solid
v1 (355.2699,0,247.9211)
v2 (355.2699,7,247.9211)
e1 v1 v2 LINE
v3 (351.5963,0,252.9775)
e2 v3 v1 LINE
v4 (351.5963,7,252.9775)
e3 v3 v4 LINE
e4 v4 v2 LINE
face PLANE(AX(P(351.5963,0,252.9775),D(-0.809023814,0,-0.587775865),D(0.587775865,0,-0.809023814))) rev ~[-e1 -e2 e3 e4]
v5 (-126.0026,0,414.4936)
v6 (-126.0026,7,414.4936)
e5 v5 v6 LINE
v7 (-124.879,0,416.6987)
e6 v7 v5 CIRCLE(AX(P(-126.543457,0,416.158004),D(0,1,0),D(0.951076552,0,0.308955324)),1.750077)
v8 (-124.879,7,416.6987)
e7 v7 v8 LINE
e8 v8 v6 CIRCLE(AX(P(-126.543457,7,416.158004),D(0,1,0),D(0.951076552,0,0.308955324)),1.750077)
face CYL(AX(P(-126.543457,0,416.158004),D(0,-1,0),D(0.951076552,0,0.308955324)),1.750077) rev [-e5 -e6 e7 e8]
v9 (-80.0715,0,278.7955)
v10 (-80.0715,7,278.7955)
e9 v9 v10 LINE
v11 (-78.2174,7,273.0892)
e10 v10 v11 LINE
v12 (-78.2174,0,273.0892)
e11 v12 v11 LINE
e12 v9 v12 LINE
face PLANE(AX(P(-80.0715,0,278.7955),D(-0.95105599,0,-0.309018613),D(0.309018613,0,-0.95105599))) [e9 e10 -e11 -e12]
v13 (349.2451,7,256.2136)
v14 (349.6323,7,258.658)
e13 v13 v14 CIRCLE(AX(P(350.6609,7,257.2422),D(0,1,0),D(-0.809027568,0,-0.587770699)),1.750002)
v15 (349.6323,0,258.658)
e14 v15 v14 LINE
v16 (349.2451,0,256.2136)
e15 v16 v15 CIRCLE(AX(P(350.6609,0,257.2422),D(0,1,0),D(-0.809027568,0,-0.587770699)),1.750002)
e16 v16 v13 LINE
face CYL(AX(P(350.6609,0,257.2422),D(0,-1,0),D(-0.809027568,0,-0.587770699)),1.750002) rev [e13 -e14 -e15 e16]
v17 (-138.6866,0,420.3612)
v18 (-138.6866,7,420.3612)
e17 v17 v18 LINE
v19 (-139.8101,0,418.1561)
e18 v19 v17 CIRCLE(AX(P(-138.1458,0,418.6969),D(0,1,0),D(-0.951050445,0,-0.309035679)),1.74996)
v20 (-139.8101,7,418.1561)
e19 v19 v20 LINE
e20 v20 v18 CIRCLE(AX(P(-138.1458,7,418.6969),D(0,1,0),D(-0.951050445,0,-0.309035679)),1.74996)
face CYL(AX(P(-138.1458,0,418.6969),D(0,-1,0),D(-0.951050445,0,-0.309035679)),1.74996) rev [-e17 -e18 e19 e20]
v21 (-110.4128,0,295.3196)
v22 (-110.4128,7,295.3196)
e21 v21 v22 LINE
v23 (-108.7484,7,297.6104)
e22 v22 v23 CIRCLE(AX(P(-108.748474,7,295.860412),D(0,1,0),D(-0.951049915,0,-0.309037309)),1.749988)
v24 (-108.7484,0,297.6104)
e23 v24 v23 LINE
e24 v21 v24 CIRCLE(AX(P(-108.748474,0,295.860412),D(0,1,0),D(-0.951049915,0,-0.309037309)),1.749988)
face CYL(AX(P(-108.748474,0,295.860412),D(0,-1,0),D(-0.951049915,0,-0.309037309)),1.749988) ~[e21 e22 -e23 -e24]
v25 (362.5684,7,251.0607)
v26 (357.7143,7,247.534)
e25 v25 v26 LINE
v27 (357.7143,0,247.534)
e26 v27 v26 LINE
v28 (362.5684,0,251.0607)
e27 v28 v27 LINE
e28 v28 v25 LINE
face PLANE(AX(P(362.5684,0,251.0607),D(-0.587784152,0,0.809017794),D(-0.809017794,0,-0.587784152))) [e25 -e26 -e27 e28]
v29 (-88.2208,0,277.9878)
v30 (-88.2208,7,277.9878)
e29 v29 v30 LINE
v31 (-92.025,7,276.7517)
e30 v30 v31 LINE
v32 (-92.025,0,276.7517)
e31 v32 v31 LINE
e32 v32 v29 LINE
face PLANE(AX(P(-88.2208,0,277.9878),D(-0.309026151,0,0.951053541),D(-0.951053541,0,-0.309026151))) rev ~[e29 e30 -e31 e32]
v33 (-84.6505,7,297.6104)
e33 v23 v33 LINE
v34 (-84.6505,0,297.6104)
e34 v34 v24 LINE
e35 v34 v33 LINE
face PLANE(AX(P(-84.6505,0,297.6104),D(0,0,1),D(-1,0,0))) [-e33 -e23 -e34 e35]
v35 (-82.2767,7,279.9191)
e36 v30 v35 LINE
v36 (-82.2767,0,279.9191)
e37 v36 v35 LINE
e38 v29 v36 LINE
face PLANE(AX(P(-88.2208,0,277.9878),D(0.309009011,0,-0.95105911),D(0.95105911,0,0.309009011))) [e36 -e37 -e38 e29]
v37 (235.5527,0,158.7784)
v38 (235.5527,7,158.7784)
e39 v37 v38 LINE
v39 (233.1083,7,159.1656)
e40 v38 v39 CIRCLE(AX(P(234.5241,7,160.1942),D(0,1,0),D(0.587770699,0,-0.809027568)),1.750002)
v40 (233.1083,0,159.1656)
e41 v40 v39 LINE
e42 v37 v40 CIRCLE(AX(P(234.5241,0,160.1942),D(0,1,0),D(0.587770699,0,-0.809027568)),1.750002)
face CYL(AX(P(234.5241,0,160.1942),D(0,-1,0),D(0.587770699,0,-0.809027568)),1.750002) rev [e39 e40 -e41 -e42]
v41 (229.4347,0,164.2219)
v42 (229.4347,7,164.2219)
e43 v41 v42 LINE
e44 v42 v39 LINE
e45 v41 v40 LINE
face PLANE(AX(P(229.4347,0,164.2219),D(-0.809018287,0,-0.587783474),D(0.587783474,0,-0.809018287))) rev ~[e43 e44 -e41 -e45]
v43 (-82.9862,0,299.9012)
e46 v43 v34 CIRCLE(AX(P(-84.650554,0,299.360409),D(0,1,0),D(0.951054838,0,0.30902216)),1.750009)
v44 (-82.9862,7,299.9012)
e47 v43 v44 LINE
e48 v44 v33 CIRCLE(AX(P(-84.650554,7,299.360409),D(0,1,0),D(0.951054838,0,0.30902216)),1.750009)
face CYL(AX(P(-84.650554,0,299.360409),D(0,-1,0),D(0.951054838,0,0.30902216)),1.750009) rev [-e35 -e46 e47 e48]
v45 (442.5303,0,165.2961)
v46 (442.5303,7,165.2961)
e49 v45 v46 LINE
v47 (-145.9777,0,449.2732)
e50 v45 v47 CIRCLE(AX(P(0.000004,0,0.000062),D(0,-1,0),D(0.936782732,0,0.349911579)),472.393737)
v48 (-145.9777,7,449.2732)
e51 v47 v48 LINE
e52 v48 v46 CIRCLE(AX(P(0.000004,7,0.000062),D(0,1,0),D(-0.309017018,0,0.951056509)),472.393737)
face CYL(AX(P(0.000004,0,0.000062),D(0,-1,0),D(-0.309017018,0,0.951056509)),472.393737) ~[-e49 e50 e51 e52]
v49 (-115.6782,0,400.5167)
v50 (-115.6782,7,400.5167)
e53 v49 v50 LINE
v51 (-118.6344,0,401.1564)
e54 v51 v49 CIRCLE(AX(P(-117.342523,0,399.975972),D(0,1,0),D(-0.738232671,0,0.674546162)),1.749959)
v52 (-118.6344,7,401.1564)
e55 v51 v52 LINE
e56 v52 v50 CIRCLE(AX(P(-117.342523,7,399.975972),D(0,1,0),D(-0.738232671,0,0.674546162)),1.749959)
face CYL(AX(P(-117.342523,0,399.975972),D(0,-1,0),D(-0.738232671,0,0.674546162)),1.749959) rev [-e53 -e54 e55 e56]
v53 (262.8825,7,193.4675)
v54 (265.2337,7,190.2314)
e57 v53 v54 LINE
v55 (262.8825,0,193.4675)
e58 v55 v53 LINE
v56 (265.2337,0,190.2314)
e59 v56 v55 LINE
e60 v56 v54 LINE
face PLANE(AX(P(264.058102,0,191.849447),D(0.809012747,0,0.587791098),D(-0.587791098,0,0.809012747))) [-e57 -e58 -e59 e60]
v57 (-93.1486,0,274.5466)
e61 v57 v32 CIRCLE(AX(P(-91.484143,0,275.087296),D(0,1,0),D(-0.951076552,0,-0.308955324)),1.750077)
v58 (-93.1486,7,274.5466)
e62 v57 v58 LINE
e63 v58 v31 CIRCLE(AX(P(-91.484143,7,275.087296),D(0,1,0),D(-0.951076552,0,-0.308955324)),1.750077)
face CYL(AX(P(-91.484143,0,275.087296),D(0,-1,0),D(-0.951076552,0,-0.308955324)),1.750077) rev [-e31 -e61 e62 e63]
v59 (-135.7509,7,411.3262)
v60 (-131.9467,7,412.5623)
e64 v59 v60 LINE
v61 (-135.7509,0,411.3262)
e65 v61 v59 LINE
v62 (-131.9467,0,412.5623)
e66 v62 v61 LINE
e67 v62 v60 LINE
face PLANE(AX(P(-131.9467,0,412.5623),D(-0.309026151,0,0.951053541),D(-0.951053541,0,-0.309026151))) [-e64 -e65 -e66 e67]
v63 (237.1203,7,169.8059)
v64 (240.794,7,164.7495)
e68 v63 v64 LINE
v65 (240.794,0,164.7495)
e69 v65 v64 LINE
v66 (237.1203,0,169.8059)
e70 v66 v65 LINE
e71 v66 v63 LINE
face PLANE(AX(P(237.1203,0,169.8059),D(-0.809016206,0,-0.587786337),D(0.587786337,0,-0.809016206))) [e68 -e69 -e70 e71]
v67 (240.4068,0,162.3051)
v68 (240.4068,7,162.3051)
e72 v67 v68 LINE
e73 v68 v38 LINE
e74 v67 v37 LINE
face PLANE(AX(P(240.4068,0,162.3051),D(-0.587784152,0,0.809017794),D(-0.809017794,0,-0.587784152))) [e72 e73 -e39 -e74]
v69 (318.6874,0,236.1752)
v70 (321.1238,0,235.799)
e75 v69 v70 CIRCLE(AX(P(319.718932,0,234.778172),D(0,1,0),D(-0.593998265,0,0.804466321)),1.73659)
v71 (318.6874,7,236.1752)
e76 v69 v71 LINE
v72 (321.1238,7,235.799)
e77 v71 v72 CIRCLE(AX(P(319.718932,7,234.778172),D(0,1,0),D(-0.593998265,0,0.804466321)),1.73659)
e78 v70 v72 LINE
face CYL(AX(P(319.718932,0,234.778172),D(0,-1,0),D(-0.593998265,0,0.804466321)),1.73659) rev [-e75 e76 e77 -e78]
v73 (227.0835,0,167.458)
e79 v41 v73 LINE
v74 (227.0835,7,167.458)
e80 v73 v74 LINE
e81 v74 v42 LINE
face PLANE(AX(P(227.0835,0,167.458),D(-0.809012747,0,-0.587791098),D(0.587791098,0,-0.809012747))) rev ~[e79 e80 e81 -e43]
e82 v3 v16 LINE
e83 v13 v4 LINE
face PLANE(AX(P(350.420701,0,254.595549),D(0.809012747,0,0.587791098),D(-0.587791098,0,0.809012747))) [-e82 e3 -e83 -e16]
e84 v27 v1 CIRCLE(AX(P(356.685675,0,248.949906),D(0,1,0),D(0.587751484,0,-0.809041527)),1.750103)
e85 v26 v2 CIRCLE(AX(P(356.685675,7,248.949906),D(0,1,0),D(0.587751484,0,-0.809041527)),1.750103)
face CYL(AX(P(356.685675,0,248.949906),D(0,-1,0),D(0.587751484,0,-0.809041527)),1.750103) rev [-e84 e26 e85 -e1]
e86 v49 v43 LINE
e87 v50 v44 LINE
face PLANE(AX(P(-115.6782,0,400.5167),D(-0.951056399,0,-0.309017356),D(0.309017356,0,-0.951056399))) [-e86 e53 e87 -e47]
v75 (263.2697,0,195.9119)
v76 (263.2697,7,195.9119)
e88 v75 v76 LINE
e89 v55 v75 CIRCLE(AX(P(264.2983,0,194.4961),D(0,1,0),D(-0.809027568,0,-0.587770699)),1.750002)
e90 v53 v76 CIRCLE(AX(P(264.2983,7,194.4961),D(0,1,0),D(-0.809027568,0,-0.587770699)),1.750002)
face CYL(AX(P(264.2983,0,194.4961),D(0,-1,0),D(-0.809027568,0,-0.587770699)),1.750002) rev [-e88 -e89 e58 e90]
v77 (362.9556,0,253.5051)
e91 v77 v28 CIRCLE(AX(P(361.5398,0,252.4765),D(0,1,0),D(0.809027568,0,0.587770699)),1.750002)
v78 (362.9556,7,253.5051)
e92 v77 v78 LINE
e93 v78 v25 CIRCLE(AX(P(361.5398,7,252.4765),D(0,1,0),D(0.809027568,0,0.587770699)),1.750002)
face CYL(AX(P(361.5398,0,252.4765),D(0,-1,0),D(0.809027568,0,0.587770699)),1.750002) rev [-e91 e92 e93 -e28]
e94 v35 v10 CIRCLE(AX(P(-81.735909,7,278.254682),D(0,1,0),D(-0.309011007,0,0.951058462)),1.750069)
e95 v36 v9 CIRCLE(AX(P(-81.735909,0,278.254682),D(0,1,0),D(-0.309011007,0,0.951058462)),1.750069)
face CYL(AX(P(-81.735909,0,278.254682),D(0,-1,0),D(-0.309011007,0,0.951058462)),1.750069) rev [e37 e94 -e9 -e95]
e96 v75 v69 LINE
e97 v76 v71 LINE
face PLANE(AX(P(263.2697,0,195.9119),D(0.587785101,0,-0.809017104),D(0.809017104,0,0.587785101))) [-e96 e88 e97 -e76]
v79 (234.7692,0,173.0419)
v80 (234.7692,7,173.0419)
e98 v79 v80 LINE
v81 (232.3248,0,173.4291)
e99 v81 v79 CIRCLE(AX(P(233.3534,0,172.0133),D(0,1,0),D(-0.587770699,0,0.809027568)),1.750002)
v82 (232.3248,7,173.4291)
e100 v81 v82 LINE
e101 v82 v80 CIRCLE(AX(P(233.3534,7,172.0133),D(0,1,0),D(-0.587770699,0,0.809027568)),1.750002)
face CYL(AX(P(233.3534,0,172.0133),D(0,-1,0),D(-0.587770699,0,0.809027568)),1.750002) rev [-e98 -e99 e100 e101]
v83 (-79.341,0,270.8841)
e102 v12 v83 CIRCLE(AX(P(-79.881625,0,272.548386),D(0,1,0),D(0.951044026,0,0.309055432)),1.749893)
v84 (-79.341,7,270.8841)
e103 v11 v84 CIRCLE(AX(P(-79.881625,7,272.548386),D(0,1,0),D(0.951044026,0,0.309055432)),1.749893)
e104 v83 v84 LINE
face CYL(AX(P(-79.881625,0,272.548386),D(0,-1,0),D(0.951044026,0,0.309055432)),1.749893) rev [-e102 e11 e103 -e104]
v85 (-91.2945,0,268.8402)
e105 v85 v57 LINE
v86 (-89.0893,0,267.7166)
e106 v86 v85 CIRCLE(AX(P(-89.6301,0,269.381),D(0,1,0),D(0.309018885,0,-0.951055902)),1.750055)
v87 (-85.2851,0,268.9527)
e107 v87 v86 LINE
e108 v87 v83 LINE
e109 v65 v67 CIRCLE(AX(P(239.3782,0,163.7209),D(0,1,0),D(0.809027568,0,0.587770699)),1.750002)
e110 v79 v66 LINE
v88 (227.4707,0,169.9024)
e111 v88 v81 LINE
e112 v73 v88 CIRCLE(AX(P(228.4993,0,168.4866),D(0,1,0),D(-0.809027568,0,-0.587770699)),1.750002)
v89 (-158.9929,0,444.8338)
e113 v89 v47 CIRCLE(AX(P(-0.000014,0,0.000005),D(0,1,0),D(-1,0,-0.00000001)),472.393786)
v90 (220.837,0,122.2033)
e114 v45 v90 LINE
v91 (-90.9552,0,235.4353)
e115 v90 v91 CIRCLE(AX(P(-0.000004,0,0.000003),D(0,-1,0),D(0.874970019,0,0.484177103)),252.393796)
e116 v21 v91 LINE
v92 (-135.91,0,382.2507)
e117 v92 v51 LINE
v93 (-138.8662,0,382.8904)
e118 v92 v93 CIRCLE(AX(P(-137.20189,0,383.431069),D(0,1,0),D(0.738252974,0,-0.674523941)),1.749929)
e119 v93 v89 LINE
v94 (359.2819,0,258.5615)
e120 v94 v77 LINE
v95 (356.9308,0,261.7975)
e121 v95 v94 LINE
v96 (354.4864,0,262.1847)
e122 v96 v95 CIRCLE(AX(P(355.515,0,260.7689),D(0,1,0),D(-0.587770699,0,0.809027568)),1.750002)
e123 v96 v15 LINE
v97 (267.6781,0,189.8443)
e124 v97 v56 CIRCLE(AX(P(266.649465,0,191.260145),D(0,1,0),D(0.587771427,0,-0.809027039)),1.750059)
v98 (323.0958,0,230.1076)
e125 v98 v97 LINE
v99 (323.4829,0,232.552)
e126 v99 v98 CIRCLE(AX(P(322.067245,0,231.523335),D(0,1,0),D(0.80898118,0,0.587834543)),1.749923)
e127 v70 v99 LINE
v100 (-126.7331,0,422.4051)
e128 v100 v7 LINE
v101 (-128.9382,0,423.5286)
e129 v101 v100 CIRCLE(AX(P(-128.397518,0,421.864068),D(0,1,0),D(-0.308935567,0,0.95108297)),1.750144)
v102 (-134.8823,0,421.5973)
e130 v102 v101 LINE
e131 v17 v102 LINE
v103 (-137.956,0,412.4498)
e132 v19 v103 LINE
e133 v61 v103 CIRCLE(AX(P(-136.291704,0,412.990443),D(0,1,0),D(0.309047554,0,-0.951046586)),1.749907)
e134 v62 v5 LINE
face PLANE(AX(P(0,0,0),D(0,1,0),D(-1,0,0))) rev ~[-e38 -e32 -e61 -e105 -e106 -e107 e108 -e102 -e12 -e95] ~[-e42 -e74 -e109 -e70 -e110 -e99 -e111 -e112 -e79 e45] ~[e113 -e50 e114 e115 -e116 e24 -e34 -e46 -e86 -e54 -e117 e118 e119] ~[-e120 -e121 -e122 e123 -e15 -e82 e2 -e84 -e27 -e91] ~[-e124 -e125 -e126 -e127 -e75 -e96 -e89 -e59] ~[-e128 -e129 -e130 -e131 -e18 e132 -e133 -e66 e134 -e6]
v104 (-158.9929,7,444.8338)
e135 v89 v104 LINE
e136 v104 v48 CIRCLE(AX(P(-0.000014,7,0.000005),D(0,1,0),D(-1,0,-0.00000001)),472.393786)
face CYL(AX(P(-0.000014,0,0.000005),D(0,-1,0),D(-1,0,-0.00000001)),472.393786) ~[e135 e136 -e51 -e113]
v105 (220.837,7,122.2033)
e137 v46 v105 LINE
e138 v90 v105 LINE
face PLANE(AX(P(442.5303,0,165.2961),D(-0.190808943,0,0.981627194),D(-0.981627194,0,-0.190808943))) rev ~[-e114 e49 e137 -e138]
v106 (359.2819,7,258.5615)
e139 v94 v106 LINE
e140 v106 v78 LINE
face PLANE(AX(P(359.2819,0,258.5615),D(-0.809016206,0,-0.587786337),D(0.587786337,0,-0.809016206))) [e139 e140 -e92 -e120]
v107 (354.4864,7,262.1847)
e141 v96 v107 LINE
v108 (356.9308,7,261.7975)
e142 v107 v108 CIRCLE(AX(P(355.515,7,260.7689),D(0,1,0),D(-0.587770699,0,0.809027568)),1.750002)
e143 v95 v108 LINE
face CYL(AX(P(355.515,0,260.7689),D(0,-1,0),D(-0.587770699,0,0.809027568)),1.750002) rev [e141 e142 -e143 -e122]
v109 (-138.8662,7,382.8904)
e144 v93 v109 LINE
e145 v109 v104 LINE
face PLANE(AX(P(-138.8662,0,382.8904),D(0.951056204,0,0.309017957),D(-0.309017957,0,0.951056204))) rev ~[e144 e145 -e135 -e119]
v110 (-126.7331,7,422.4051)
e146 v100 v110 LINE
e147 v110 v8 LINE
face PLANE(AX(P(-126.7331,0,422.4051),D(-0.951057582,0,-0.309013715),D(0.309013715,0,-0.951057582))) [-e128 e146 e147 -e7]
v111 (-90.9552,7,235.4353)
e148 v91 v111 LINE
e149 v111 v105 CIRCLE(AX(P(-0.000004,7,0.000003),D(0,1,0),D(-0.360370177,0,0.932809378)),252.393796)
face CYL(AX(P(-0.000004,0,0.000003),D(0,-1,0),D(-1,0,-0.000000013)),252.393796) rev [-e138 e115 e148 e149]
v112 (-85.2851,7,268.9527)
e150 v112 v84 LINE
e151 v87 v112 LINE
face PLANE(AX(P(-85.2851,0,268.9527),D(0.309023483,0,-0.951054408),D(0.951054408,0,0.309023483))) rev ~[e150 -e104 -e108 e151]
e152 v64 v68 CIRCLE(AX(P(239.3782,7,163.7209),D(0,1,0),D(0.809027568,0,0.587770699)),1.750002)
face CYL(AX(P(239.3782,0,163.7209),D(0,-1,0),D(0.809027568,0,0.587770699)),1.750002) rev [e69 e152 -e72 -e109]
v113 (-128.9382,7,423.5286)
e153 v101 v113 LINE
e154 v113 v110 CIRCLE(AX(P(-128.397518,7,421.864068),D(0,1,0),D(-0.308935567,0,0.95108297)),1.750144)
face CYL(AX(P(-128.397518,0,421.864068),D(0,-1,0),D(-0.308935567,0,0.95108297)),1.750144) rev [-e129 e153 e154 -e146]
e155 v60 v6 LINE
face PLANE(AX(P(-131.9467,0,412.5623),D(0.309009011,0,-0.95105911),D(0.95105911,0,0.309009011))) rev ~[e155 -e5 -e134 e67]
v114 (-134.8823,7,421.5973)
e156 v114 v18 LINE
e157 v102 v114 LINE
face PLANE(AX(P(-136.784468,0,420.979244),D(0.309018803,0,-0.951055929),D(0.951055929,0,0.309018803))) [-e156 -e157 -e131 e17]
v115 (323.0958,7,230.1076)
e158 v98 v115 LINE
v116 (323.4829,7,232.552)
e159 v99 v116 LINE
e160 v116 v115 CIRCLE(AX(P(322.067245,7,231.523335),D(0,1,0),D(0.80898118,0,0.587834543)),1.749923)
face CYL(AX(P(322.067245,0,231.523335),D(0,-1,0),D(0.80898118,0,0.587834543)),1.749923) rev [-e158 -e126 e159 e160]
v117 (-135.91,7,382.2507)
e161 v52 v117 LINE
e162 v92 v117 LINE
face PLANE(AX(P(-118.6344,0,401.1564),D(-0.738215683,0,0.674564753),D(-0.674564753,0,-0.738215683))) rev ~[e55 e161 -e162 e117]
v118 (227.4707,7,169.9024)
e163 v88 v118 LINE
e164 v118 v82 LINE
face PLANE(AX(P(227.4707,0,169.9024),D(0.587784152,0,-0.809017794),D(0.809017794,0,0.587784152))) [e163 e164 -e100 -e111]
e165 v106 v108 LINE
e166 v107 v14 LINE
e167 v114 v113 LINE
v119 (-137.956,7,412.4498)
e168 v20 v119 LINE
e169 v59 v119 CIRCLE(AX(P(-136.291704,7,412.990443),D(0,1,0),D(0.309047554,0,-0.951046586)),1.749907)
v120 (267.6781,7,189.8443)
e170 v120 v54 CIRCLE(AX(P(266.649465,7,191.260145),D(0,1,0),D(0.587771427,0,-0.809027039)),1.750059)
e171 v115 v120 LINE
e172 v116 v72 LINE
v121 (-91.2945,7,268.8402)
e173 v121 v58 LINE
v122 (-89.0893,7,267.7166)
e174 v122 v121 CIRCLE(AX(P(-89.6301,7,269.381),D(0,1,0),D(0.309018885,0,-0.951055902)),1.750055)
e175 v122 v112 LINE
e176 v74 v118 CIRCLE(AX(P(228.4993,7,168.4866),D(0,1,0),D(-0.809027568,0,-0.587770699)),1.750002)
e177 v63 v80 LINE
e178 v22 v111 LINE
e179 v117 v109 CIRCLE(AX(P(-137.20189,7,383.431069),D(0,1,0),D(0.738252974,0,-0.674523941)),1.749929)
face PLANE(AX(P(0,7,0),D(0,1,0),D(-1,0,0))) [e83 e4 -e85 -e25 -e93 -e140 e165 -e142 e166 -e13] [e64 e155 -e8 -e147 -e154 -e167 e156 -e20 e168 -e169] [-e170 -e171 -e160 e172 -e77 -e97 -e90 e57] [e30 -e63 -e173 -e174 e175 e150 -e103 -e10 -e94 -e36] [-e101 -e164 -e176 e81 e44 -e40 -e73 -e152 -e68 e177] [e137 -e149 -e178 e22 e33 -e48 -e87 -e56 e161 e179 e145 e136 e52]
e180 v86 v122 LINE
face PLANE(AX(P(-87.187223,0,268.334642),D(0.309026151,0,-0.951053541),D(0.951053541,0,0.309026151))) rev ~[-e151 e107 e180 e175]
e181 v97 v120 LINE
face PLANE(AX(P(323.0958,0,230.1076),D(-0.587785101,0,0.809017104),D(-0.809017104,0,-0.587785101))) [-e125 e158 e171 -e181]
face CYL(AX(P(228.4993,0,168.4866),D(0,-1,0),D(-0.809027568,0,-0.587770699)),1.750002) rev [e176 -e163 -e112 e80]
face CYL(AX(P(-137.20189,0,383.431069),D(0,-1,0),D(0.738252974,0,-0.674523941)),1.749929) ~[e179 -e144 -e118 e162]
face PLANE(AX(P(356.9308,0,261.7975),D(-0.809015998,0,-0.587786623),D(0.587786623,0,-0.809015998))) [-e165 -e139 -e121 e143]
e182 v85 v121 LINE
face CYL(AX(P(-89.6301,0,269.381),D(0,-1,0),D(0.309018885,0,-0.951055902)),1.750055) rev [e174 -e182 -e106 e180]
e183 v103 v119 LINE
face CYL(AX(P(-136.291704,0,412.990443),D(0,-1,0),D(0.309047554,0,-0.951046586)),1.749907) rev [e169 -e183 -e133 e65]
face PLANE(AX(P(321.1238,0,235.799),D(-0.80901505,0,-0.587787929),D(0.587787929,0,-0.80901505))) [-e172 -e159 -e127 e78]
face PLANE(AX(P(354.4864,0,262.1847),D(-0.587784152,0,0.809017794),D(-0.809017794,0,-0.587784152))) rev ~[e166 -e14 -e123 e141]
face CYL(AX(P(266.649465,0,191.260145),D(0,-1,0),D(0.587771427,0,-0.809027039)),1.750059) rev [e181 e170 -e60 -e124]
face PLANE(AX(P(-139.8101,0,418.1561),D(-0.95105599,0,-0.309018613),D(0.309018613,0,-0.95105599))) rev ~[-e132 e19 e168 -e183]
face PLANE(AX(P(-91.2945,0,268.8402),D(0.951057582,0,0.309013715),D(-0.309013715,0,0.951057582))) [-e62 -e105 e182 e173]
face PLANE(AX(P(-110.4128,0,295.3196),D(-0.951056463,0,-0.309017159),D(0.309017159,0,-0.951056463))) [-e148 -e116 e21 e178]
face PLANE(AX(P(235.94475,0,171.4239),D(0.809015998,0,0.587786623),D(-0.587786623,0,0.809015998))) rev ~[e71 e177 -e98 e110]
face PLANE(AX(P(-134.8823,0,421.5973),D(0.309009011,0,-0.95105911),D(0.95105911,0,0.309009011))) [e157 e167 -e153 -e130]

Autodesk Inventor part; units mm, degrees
ref_plane "YZ Plane" through (0, 0, 0) normal (1, 0, 0) x (0, 1, 0)
ref_plane "XZ Plane" through (0, 0, 0) normal (0, 1, 0) x (-1, 0, 0)
ref_plane "XY Plane" through (0, 0, 0) normal (0, 0, 1) x (1, 0, 0)
sketch "Sketch1" plane through (0, 0, 0) normal (0, 1, 0) x (-1, 0, 0)
  line L0 (0, 0) -> (618.9442, 0)
  line L1 (0, 0) -> (191.2643, 588.6509)
  line L2 (0, 0) -> (-500.7364, 363.8063)
  line L3 (0, 0) -> (-500.7364, -363.8063)
  line L4 (0, 0) -> (191.2643, -588.6509)
  line L5 (396.6438, 3.75) -> (328.1438, 3.75)
  line L6 (328.1438, -3.75) -> (396.6438, -3.75)
  arc A0 (472.3938, 0) -> (145.9777, 449.2732) centre (0, 0) ccw
  arc A1 (77.994, -240.0408) -> (252.3938, 0) centre (0, 0) ccw
  line L7 (289.8938, 3.75) -> (283.8938, 3.75)
  line L8 (283.8938, -3.75) -> (289.8938, -3.75)
  arc A2 (328.1438, 3.75) -> (326.3938, 2) centre (328.1438, 2) ccw
  arc A3 (326.3938, -2) -> (328.1438, -3.75) centre (328.1438, -2) ccw
  line L9 (326.3938, 2) -> (326.3938, -2)
  arc A4 (398.3938, 2) -> (396.6438, 3.75) centre (396.6438, 2) ccw
  arc A5 (396.6438, -3.75) -> (398.3938, -2.0136) centre (396.6573, -2.0136) ccw
  line L10 (398.3938, -2.0136) -> (398.3938, 2)
  line L11 (362.3938, -3.75) -> (362.3938, 32.9806)
  arc A6 (283.8938, 3.75) -> (282.1438, 2) centre (283.8938, 2) ccw
  arc A7 (282.1438, -2) -> (283.8938, -3.75) centre (283.8938, -2) ccw
  arc A8 (289.8938, -3.75) -> (291.6438, -2) centre (289.8938, -2) ccw
  arc A9 (291.6438, 2) -> (289.8938, 3.75) centre (289.8938, 2) ccw
  line L12 (291.6438, 2) -> (291.6438, -2)
  line L13 (282.1438, -2) -> (282.1438, 2)
  line L14 (434.8938, 3.75) -> (440.8938, 3.75)
  line L15 (440.8938, -3.75) -> (434.8938, -3.75)
  arc A10 (442.6438, 2) -> (440.8938, 3.75) centre (440.8938, 2) ccw
  arc A11 (440.8938, -3.75) -> (442.6438, -2) centre (440.8938, -2) ccw
  arc A12 (433.1438, -2) -> (434.8938, -3.75) centre (434.8938, -2) ccw
  arc A13 (434.8938, 3.75) -> (433.1438, 2) centre (434.8938, 2) ccw
  line L16 (433.1438, 2) -> (433.1438, -2)
  line L17 (442.6438, -2) -> (442.6438, 2)
  line L18 (131.9467, 412.5623) -> (135.7509, 411.3262)
  arc A14 (130.8231, 414.7674) -> (131.9467, 412.5623) centre (132.4875, 414.2266) ccw
  arc A15 (135.7509, 411.3262) -> (137.956, 412.4498) centre (136.2917, 412.9905) ccw
  line L19 (139.8101, 418.1561) -> (137.956, 412.4498)
  line L20 (130.8231, 414.7674) -> (132.6772, 420.4737)
  arc A16 (134.8823, 421.5973) -> (132.6772, 420.4737) centre (134.3416, 419.9329) ccw
  line L21 (138.6866, 420.3612) -> (134.8823, 421.5973)
  arc A17 (139.8101, 418.1561) -> (138.6866, 420.3612) centre (138.1458, 418.6969) ccw
  line L22 (125.0255, 378.2728) -> (121.2083, 379.513)
  arc A18 (121.2083, 379.513) -> (119.0032, 378.3895) centre (120.6676, 377.8487) ccw
  arc A19 (126.1361, 376.0718) -> (125.0255, 378.2728) centre (124.4888, 376.6213) ccw
  line L23 (119.0032, 378.3895) -> (97.8355, 313.2421)
  line L24 (98.9591, 311.037) -> (102.7633, 309.8009)
  arc A20 (97.8355, 313.2421) -> (98.9591, 311.037) centre (99.4999, 312.7013) ccw
  arc A21 (102.7633, 309.8009) -> (104.9685, 310.9245) centre (103.3041, 311.4652) ccw
  line L25 (104.9685, 310.9245) -> (126.1361, 376.0718)
  line L26 (88.2208, 277.9878) -> (92.025, 276.7517)
  arc A22 (93.1486, 274.5466) -> (92.025, 276.7517) centre (91.4842, 275.0873) ccw
  line L27 (91.2945, 268.8402) -> (93.1486, 274.5466)
  arc A23 (88.2208, 277.9878) -> (86.0156, 276.8642) centre (87.68, 276.3234) ccw
  line L28 (86.0156, 276.8642) -> (84.1615, 271.1578)
  arc A24 (84.1615, 271.1578) -> (85.2851, 268.9527) centre (85.8259, 270.6171) ccw
  arc A25 (89.0893, 267.7166) -> (91.2945, 268.8402) centre (89.6301, 269.381) ccw
  line L29 (89.0893, 267.7166) -> (85.2851, 268.9527)
  line L30 (-351.5963, 252.9775) -> (-349.2451, 256.2136)
  arc A26 (-354.0407, 252.5903) -> (-351.5963, 252.9775) centre (-353.012, 254.0061) ccw
  arc A27 (-349.2451, 256.2136) -> (-349.6323, 258.658) centre (-350.6609, 257.2422) ccw
  line L31 (-354.4864, 262.1847) -> (-349.6323, 258.658)
  line L32 (-354.0407, 252.5903) -> (-358.8948, 256.1171)
  arc A28 (-359.2819, 258.5615) -> (-358.8948, 256.1171) centre (-357.8661, 257.5328) ccw
  line L33 (-356.9308, 261.7975) -> (-359.2819, 258.5615)
  arc A29 (-354.4864, 262.1847) -> (-356.9308, 261.7975) centre (-355.515, 260.7689) ccw
  line L34 (-321.1238, 235.799) -> (-323.4829, 232.552)
  arc A30 (-323.4829, 232.552) -> (-323.0958, 230.1076) centre (-322.0671, 231.5233) ccw
  arc A31 (-318.6874, 236.1752) -> (-321.1238, 235.799) centre (-319.7189, 234.7783) ccw
  line L35 (-323.0958, 230.1076) -> (-267.6781, 189.8443)
  line L36 (-265.2337, 190.2314) -> (-262.8825, 193.4675)
  arc A32 (-267.6781, 189.8443) -> (-265.2337, 190.2314) centre (-266.6495, 191.26) ccw
  arc A33 (-262.8825, 193.4675) -> (-263.2697, 195.9119) centre (-264.2983, 194.4961) ccw
  line L37 (-263.2697, 195.9119) -> (-318.6874, 236.1752)
  line L38 (-237.1203, 169.8059) -> (-234.7692, 173.0419)
  arc A34 (-232.3248, 173.4291) -> (-234.7692, 173.0419) centre (-233.3534, 172.0133) ccw
  line L39 (-227.4707, 169.9024) -> (-232.3248, 173.4291)
  arc A35 (-237.1203, 169.8059) -> (-236.7332, 167.3615) centre (-235.7046, 168.7773) ccw
  line L40 (-236.7332, 167.3615) -> (-231.8791, 163.8348)
  arc A36 (-231.8791, 163.8348) -> (-229.4347, 164.2219) centre (-230.8505, 165.2505) ccw
  arc A37 (-227.0835, 167.458) -> (-227.4707, 169.9024) centre (-228.4993, 168.4866) ccw
  line L41 (-227.0835, 167.458) -> (-229.4347, 164.2219)
  line L42 (-349.2451, -256.2136) -> (-351.5963, -252.9775)
  arc A38 (-349.6323, -258.658) -> (-349.2451, -256.2136) centre (-350.6609, -257.2422) ccw
  arc A39 (-351.5963, -252.9775) -> (-354.0407, -252.5903) centre (-353.012, -254.0061) ccw
  line L43 (-358.8948, -256.117) -> (-354.0407, -252.5903)
  line L44 (-349.6323, -258.658) -> (-354.4864, -262.1847)
  arc A40 (-356.9308, -261.7975) -> (-354.4864, -262.1847) centre (-355.515, -260.7689) ccw
  line L45 (-359.2819, -258.5615) -> (-356.9308, -261.7975)
  arc A41 (-358.8948, -256.117) -> (-359.2819, -258.5615) centre (-357.8661, -257.5328) ccw
  line L46 (-323.4909, -232.541) -> (-321.1318, -235.788)
  arc A42 (-321.1318, -235.788) -> (-318.6874, -236.1752) centre (-319.716, -234.7594) ccw
  arc A43 (-323.0958, -230.1076) -> (-323.4909, -232.541) centre (-322.086, -231.5203) ccw
  line L47 (-318.6874, -236.1752) -> (-263.2697, -195.9119)
  line L48 (-262.8825, -193.4675) -> (-265.2337, -190.2314)
  arc A44 (-263.2697, -195.9119) -> (-262.8825, -193.4675) centre (-264.2983, -194.4961) ccw
  arc A45 (-265.2337, -190.2314) -> (-267.6781, -189.8443) centre (-266.6495, -191.26) ccw
  line L49 (-267.6781, -189.8443) -> (-323.0958, -230.1076)
  line L50 (-234.7692, -173.0419) -> (-237.1203, -169.8059)
  arc A46 (-236.7332, -167.3615) -> (-237.1203, -169.8059) centre (-235.7046, -168.7773) ccw
  line L51 (-231.8791, -163.8348) -> (-236.7332, -167.3615)
  arc A47 (-234.7692, -173.0419) -> (-232.3248, -173.4291) centre (-233.3534, -172.0133) ccw
  line L52 (-232.3248, -173.4291) -> (-227.4707, -169.9024)
  arc A48 (-227.4707, -169.9024) -> (-227.0835, -167.458) centre (-228.4993, -168.4866) ccw
  arc A49 (-229.4347, -164.2219) -> (-231.8791, -163.8348) centre (-230.8505, -165.2505) ccw
  line L53 (-229.4347, -164.2219) -> (-227.0835, -167.458)
  line L54 (135.7509, -411.3262) -> (131.9467, -412.5623)
  arc A50 (137.956, -412.4498) -> (135.7509, -411.3262) centre (136.2917, -412.9905) ccw
  arc A51 (131.9467, -412.5623) -> (130.8231, -414.7674) centre (132.4875, -414.2266) ccw
  line L55 (132.6772, -420.4737) -> (130.8231, -414.7674)
  line L56 (137.956, -412.4498) -> (139.8101, -418.1561)
  arc A52 (138.6866, -420.3612) -> (139.8101, -418.1561) centre (138.1458, -418.6969) ccw
  line L57 (134.8823, -421.5973) -> (138.6866, -420.3612)
  arc A53 (132.6772, -420.4737) -> (134.8823, -421.5973) centre (134.3416, -419.9329) ccw
  line L58 (121.1954, -379.5172) -> (125.0126, -378.277)
  arc A54 (125.0126, -378.277) -> (126.1361, -376.0718) centre (124.4718, -376.6126) ccw
  arc A55 (119.0032, -378.3895) -> (121.1954, -379.5172) centre (120.6588, -377.8657) ccw
  line L59 (126.1361, -376.0718) -> (104.9685, -310.9245)
  line L60 (102.7633, -309.8009) -> (98.9591, -311.037)
  arc A56 (104.9685, -310.9245) -> (102.7633, -309.8009) centre (103.3041, -311.4652) ccw
  arc A57 (98.9591, -311.037) -> (97.8355, -313.2421) centre (99.4999, -312.7013) ccw
  line L61 (97.8355, -313.2421) -> (119.0032, -378.3895)
  line L62 (92.025, -276.7517) -> (88.2208, -277.9878)
  arc A58 (86.0156, -276.8642) -> (88.2208, -277.9878) centre (87.68, -276.3234) ccw
  line L63 (84.1615, -271.1578) -> (86.0156, -276.8642)
  arc A59 (92.025, -276.7517) -> (93.1486, -274.5466) centre (91.4842, -275.0873) ccw
  line L64 (93.1486, -274.5466) -> (91.2945, -268.8402)
  arc A60 (91.2945, -268.8402) -> (89.0893, -267.7166) centre (89.6301, -269.381) ccw
  arc A61 (85.2851, -268.9527) -> (84.1615, -271.1578) centre (85.8259, -270.6171) ccw
  line L65 (85.2851, -268.9527) -> (89.0893, -267.7166)
  line L66 (-442.5303, 165.2961) -> (-220.837, 122.2033)
  line L67 (-442.5303, -165.2961) -> (-220.837, -122.2033)
  arc A62 (252.3938, 0) -> (-220.837, 122.2033) centre (0, 0) ccw
  arc A63 (-220.837, -122.2033) -> (77.994, -240.0408) centre (0, 0) ccw
  arc A64 (145.9777, 449.2732) -> (-442.5303, 165.2961) centre (0, 0) ccw
  arc A65 (-442.5303, -165.2961) -> (472.3938, 0) centre (0, 0) ccw
  line L68 (115.6782, 400.5167) -> (82.9862, 299.9012)
  line L69 (84.6505, 297.6104) -> (108.7484, 297.6104)
  line L70 (110.4128, 295.3196) -> (90.9552, 235.4353)
  line L71 (138.8662, 382.8904) -> (158.9929, 444.8338)
  line L72 (118.6344, 401.1564) -> (135.91, 382.2507)
  line L73 (123.1169, 378.8929) -> (127.2722, 391.7035) construction
  line L74 (100.8612, 310.4189) -> (96.6995, 297.6104) construction
  arc A66 (135.91, 382.2507) -> (138.8662, 382.8904) centre (137.2019, 383.4311) ccw
  arc A67 (118.6344, 401.1564) -> (115.6782, 400.5167) centre (117.3425, 399.9759) ccw
  arc A68 (82.9862, 299.9012) -> (84.6505, 297.6104) centre (84.6505, 299.3604) ccw
  arc A69 (110.4128, 295.3196) -> (108.7484, 297.6104) centre (108.7484, 295.8604) ccw
  line L75 (407.0624, -13.75) -> (472.1936, -13.75)
  arc A70 (405.5405, -11.1361) -> (407.0624, -13.75) centre (407.0624, -12) ccw
  line L76 (418.1824, 11.1361) -> (405.5405, -11.1361)
  arc A71 (418.1824, 11.1361) -> (416.6605, 13.75) centre (416.6605, 12) ccw
  line L77 (416.6605, 13.75) -> (310.8671, 13.75)
  line L78 (309.2028, 11.4592) -> (316.6494, -11.4592)
  arc A72 (310.8671, 13.75) -> (309.2028, 11.4592) centre (310.8671, 12) ccw
  arc A73 (314.9851, -13.75) -> (316.6494, -11.4592) centre (314.9851, -12) ccw
  line L79 (314.9851, -13.75) -> (252.019, -13.75)
  line L80 (112.7122, -391.3883) -> (132.8388, -453.3318)
  arc A74 (114.7278, -389.1332) -> (112.7122, -391.3883) centre (114.3765, -390.8476) ccw
  line L81 (139.8166, -394.2739) -> (114.7278, -389.1332)
  arc A75 (139.8166, -394.2739) -> (141.8322, -392.0187) centre (140.1679, -392.5595) ccw
  line L82 (141.8322, -392.0187) -> (109.1403, -291.4032)
  line L83 (106.4473, -290.5282) -> (86.9517, -304.6926)
  arc A76 (109.1403, -291.4032) -> (106.4473, -290.5282) centre (107.4759, -291.944) ccw
  arc A77 (84.2587, -303.8176) -> (86.9517, -304.6926) centre (85.9231, -303.2768) ccw
  line L84 (84.2587, -303.8176) -> (64.8011, -243.9333)
  line L85 (-359.2819, 258.5615) -> (-362.9556, 253.5051)
  line L86 (-362.5684, 251.0607) -> (-357.7143, 247.534)
  line L87 (-351.5963, 252.9775) -> (-355.2699, 247.9211)
  arc A78 (-362.9556, 253.5051) -> (-362.5684, 251.0607) centre (-361.5398, 252.4765) ccw
  arc A79 (-357.7143, 247.534) -> (-355.2699, 247.9211) centre (-356.6857, 248.9498) ccw
  line L88 (-237.1203, 169.8059) -> (-240.794, 164.7495)
  line L89 (-240.4068, 162.3051) -> (-235.5527, 158.7784)
  line L90 (-229.4347, 164.2219) -> (-233.1083, 159.1656)
  arc A80 (-240.794, 164.7495) -> (-240.4068, 162.3051) centre (-239.3782, 163.7209) ccw
  arc A81 (-235.5527, 158.7784) -> (-233.1083, 159.1656) centre (-234.5241, 160.1942) ccw
  line L91 (-356.9308, -261.7975) -> (-353.2571, -266.8539)
  arc A82 (-353.2571, -266.8539) -> (-350.8127, -267.241) centre (-351.8413, -265.8253) ccw
  line L92 (-350.8127, -267.241) -> (-345.9586, -263.7143)
  arc A83 (-345.9586, -263.7143) -> (-345.5715, -261.2699) centre (-346.9872, -262.2985) ccw
  line L93 (-349.2451, -256.2136) -> (-345.5715, -261.2699)
  line L94 (-234.7692, -173.0419) -> (-231.0955, -178.0983)
  arc A84 (-231.0955, -178.0983) -> (-228.6511, -178.4855) centre (-229.6798, -177.0697) ccw
  line L95 (-228.6511, -178.4855) -> (-223.797, -174.9587)
  arc A85 (-223.797, -174.9587) -> (-223.4099, -172.5143) centre (-224.8257, -173.543) ccw
  line L96 (-227.0835, -167.458) -> (-223.4099, -172.5143)
  line L97 (138.6866, -420.3612) -> (144.6307, -418.4299)
  arc A86 (144.6307, -418.4299) -> (145.7542, -416.2247) centre (144.0899, -416.7655) ccw
  line L98 (145.7542, -416.2247) -> (143.9001, -410.5184)
  arc A87 (143.9001, -410.5184) -> (141.695, -409.3948) centre (142.2358, -411.0592) ccw
  line L99 (135.7509, -411.3262) -> (141.695, -409.3948)
  line L100 (92.025, -276.7517) -> (97.9691, -274.8203)
  arc A88 (97.9691, -274.8203) -> (99.0927, -272.6152) centre (97.4283, -273.156) ccw
  line L101 (99.0927, -272.6152) -> (97.2386, -266.9089)
  arc A89 (97.2386, -266.9089) -> (95.0334, -265.7853) centre (95.5742, -267.4496) ccw
  line L102 (89.0893, -267.7166) -> (95.0334, -265.7853)
  line L103 (442.6438, 2) -> (442.6438, 8.25)
  arc A90 (442.6438, 8.25) -> (440.8938, 10) centre (440.8938, 8.25) ccw
  line L104 (440.8938, 10) -> (434.8938, 10)
  arc A91 (434.8938, 10) -> (433.1438, 8.25) centre (434.8938, 8.25) ccw
  line L105 (433.1438, 2) -> (433.1438, 8.25)
  line L106 (291.6438, 2) -> (291.6438, 8.25)
  arc A92 (291.6438, 8.25) -> (289.8938, 10) centre (289.8938, 8.25) ccw
  line L107 (289.8938, 10) -> (283.8938, 10)
  arc A93 (283.8938, 10) -> (282.1438, 8.25) centre (283.8938, 8.25) ccw
  line L108 (282.1438, 2) -> (282.1438, 8.25)
  line L109 (134.8823, 421.5973) -> (128.9382, 423.5286)
  arc A94 (128.9382, 423.5286) -> (126.7331, 422.4051) centre (128.3975, 421.8643) ccw
  line L110 (126.7331, 422.4051) -> (124.879, 416.6987)
  arc A95 (124.879, 416.6987) -> (126.0026, 414.4936) centre (126.5434, 416.158) ccw
  line L111 (131.9467, 412.5623) -> (126.0026, 414.4936)
  line L112 (88.2208, 277.9878) -> (82.2767, 279.9191)
  arc A96 (82.2767, 279.9191) -> (80.0715, 278.7955) centre (81.7359, 278.2548) ccw
  line L113 (80.0715, 278.7955) -> (78.2174, 273.0892)
  arc A97 (78.2174, 273.0892) -> (79.341, 270.8841) centre (79.8818, 272.5484) ccw
  line L114 (85.2851, 268.9527) -> (79.341, 270.8841)
  point P0 (115.5523, 343.4982)
  point P1 (-290.9785, 216.0435)
  point P2 (-295.3869, -209.9759)
  point P3 (108.4194, -345.8158)
  point P4 (137.9375, 380.0319)
  point P5 (97.9406, 311.9068)
  point P6 (104.0986, 309.906)
  point P7 (119.8731, 379.408)
  point P8 (404.0568, -13.75)
  point P9 (411.8615, 0)
  point P10 (312.9261, 0)
  point P11 (111.7834, -388.5299)
  point P12 (127.2722, -391.7035)
  point P13 (96.6995, -297.6104)
  dimension "d4" = 360
  dimension "d6" = 7.5
  dimension "d7" = 7.5
  dimension "d9" = 68.5
  dimension "d10" = 7.5
  dimension "d11" = 7.5
  dimension "d12" = 3.5
  dimension "d13" = 3.5
  dimension "d19" = 360
  dimension "d21" = 25
  dimension "d25" = 10
  dimension "d26" = 10
  dimension "d27" = 1.75
  dimension "d30" = 144
  dimension "d34" = 0
  dimension "d35" = 8
  dimension "d36" = 1.75
  dimension "d43" = 8
  dimension "d44" = 1.75
  dimension "d47" = 360
extrude "Extrusion1" add sketch "Sketch1" along normal blind 7 contours A62 L2 L41 A37 L39 A34 L38 L36 A33 L37 A31 L34 L30 A27 L31 A29 L33 A64 L1 L21 L109 A94 L110 A95 L111 L18 L72 A67 L68 A68 L69 L26 L112 A96 L113 A97 L114 L29 | L1 L29 A25 L27 A22 L26 L69 A69 L70 A62 | A62 L66 A64 L2 L33 L85 A78 L86 A79 L87 L30 L34 A30 L35 A32 L36 L38 L88 A80 L89 A81 L90 L41 | A0 L71 A66 L72 L1 L18 A15 L19 A17 L21
properties part number "Level 1a - V2"
